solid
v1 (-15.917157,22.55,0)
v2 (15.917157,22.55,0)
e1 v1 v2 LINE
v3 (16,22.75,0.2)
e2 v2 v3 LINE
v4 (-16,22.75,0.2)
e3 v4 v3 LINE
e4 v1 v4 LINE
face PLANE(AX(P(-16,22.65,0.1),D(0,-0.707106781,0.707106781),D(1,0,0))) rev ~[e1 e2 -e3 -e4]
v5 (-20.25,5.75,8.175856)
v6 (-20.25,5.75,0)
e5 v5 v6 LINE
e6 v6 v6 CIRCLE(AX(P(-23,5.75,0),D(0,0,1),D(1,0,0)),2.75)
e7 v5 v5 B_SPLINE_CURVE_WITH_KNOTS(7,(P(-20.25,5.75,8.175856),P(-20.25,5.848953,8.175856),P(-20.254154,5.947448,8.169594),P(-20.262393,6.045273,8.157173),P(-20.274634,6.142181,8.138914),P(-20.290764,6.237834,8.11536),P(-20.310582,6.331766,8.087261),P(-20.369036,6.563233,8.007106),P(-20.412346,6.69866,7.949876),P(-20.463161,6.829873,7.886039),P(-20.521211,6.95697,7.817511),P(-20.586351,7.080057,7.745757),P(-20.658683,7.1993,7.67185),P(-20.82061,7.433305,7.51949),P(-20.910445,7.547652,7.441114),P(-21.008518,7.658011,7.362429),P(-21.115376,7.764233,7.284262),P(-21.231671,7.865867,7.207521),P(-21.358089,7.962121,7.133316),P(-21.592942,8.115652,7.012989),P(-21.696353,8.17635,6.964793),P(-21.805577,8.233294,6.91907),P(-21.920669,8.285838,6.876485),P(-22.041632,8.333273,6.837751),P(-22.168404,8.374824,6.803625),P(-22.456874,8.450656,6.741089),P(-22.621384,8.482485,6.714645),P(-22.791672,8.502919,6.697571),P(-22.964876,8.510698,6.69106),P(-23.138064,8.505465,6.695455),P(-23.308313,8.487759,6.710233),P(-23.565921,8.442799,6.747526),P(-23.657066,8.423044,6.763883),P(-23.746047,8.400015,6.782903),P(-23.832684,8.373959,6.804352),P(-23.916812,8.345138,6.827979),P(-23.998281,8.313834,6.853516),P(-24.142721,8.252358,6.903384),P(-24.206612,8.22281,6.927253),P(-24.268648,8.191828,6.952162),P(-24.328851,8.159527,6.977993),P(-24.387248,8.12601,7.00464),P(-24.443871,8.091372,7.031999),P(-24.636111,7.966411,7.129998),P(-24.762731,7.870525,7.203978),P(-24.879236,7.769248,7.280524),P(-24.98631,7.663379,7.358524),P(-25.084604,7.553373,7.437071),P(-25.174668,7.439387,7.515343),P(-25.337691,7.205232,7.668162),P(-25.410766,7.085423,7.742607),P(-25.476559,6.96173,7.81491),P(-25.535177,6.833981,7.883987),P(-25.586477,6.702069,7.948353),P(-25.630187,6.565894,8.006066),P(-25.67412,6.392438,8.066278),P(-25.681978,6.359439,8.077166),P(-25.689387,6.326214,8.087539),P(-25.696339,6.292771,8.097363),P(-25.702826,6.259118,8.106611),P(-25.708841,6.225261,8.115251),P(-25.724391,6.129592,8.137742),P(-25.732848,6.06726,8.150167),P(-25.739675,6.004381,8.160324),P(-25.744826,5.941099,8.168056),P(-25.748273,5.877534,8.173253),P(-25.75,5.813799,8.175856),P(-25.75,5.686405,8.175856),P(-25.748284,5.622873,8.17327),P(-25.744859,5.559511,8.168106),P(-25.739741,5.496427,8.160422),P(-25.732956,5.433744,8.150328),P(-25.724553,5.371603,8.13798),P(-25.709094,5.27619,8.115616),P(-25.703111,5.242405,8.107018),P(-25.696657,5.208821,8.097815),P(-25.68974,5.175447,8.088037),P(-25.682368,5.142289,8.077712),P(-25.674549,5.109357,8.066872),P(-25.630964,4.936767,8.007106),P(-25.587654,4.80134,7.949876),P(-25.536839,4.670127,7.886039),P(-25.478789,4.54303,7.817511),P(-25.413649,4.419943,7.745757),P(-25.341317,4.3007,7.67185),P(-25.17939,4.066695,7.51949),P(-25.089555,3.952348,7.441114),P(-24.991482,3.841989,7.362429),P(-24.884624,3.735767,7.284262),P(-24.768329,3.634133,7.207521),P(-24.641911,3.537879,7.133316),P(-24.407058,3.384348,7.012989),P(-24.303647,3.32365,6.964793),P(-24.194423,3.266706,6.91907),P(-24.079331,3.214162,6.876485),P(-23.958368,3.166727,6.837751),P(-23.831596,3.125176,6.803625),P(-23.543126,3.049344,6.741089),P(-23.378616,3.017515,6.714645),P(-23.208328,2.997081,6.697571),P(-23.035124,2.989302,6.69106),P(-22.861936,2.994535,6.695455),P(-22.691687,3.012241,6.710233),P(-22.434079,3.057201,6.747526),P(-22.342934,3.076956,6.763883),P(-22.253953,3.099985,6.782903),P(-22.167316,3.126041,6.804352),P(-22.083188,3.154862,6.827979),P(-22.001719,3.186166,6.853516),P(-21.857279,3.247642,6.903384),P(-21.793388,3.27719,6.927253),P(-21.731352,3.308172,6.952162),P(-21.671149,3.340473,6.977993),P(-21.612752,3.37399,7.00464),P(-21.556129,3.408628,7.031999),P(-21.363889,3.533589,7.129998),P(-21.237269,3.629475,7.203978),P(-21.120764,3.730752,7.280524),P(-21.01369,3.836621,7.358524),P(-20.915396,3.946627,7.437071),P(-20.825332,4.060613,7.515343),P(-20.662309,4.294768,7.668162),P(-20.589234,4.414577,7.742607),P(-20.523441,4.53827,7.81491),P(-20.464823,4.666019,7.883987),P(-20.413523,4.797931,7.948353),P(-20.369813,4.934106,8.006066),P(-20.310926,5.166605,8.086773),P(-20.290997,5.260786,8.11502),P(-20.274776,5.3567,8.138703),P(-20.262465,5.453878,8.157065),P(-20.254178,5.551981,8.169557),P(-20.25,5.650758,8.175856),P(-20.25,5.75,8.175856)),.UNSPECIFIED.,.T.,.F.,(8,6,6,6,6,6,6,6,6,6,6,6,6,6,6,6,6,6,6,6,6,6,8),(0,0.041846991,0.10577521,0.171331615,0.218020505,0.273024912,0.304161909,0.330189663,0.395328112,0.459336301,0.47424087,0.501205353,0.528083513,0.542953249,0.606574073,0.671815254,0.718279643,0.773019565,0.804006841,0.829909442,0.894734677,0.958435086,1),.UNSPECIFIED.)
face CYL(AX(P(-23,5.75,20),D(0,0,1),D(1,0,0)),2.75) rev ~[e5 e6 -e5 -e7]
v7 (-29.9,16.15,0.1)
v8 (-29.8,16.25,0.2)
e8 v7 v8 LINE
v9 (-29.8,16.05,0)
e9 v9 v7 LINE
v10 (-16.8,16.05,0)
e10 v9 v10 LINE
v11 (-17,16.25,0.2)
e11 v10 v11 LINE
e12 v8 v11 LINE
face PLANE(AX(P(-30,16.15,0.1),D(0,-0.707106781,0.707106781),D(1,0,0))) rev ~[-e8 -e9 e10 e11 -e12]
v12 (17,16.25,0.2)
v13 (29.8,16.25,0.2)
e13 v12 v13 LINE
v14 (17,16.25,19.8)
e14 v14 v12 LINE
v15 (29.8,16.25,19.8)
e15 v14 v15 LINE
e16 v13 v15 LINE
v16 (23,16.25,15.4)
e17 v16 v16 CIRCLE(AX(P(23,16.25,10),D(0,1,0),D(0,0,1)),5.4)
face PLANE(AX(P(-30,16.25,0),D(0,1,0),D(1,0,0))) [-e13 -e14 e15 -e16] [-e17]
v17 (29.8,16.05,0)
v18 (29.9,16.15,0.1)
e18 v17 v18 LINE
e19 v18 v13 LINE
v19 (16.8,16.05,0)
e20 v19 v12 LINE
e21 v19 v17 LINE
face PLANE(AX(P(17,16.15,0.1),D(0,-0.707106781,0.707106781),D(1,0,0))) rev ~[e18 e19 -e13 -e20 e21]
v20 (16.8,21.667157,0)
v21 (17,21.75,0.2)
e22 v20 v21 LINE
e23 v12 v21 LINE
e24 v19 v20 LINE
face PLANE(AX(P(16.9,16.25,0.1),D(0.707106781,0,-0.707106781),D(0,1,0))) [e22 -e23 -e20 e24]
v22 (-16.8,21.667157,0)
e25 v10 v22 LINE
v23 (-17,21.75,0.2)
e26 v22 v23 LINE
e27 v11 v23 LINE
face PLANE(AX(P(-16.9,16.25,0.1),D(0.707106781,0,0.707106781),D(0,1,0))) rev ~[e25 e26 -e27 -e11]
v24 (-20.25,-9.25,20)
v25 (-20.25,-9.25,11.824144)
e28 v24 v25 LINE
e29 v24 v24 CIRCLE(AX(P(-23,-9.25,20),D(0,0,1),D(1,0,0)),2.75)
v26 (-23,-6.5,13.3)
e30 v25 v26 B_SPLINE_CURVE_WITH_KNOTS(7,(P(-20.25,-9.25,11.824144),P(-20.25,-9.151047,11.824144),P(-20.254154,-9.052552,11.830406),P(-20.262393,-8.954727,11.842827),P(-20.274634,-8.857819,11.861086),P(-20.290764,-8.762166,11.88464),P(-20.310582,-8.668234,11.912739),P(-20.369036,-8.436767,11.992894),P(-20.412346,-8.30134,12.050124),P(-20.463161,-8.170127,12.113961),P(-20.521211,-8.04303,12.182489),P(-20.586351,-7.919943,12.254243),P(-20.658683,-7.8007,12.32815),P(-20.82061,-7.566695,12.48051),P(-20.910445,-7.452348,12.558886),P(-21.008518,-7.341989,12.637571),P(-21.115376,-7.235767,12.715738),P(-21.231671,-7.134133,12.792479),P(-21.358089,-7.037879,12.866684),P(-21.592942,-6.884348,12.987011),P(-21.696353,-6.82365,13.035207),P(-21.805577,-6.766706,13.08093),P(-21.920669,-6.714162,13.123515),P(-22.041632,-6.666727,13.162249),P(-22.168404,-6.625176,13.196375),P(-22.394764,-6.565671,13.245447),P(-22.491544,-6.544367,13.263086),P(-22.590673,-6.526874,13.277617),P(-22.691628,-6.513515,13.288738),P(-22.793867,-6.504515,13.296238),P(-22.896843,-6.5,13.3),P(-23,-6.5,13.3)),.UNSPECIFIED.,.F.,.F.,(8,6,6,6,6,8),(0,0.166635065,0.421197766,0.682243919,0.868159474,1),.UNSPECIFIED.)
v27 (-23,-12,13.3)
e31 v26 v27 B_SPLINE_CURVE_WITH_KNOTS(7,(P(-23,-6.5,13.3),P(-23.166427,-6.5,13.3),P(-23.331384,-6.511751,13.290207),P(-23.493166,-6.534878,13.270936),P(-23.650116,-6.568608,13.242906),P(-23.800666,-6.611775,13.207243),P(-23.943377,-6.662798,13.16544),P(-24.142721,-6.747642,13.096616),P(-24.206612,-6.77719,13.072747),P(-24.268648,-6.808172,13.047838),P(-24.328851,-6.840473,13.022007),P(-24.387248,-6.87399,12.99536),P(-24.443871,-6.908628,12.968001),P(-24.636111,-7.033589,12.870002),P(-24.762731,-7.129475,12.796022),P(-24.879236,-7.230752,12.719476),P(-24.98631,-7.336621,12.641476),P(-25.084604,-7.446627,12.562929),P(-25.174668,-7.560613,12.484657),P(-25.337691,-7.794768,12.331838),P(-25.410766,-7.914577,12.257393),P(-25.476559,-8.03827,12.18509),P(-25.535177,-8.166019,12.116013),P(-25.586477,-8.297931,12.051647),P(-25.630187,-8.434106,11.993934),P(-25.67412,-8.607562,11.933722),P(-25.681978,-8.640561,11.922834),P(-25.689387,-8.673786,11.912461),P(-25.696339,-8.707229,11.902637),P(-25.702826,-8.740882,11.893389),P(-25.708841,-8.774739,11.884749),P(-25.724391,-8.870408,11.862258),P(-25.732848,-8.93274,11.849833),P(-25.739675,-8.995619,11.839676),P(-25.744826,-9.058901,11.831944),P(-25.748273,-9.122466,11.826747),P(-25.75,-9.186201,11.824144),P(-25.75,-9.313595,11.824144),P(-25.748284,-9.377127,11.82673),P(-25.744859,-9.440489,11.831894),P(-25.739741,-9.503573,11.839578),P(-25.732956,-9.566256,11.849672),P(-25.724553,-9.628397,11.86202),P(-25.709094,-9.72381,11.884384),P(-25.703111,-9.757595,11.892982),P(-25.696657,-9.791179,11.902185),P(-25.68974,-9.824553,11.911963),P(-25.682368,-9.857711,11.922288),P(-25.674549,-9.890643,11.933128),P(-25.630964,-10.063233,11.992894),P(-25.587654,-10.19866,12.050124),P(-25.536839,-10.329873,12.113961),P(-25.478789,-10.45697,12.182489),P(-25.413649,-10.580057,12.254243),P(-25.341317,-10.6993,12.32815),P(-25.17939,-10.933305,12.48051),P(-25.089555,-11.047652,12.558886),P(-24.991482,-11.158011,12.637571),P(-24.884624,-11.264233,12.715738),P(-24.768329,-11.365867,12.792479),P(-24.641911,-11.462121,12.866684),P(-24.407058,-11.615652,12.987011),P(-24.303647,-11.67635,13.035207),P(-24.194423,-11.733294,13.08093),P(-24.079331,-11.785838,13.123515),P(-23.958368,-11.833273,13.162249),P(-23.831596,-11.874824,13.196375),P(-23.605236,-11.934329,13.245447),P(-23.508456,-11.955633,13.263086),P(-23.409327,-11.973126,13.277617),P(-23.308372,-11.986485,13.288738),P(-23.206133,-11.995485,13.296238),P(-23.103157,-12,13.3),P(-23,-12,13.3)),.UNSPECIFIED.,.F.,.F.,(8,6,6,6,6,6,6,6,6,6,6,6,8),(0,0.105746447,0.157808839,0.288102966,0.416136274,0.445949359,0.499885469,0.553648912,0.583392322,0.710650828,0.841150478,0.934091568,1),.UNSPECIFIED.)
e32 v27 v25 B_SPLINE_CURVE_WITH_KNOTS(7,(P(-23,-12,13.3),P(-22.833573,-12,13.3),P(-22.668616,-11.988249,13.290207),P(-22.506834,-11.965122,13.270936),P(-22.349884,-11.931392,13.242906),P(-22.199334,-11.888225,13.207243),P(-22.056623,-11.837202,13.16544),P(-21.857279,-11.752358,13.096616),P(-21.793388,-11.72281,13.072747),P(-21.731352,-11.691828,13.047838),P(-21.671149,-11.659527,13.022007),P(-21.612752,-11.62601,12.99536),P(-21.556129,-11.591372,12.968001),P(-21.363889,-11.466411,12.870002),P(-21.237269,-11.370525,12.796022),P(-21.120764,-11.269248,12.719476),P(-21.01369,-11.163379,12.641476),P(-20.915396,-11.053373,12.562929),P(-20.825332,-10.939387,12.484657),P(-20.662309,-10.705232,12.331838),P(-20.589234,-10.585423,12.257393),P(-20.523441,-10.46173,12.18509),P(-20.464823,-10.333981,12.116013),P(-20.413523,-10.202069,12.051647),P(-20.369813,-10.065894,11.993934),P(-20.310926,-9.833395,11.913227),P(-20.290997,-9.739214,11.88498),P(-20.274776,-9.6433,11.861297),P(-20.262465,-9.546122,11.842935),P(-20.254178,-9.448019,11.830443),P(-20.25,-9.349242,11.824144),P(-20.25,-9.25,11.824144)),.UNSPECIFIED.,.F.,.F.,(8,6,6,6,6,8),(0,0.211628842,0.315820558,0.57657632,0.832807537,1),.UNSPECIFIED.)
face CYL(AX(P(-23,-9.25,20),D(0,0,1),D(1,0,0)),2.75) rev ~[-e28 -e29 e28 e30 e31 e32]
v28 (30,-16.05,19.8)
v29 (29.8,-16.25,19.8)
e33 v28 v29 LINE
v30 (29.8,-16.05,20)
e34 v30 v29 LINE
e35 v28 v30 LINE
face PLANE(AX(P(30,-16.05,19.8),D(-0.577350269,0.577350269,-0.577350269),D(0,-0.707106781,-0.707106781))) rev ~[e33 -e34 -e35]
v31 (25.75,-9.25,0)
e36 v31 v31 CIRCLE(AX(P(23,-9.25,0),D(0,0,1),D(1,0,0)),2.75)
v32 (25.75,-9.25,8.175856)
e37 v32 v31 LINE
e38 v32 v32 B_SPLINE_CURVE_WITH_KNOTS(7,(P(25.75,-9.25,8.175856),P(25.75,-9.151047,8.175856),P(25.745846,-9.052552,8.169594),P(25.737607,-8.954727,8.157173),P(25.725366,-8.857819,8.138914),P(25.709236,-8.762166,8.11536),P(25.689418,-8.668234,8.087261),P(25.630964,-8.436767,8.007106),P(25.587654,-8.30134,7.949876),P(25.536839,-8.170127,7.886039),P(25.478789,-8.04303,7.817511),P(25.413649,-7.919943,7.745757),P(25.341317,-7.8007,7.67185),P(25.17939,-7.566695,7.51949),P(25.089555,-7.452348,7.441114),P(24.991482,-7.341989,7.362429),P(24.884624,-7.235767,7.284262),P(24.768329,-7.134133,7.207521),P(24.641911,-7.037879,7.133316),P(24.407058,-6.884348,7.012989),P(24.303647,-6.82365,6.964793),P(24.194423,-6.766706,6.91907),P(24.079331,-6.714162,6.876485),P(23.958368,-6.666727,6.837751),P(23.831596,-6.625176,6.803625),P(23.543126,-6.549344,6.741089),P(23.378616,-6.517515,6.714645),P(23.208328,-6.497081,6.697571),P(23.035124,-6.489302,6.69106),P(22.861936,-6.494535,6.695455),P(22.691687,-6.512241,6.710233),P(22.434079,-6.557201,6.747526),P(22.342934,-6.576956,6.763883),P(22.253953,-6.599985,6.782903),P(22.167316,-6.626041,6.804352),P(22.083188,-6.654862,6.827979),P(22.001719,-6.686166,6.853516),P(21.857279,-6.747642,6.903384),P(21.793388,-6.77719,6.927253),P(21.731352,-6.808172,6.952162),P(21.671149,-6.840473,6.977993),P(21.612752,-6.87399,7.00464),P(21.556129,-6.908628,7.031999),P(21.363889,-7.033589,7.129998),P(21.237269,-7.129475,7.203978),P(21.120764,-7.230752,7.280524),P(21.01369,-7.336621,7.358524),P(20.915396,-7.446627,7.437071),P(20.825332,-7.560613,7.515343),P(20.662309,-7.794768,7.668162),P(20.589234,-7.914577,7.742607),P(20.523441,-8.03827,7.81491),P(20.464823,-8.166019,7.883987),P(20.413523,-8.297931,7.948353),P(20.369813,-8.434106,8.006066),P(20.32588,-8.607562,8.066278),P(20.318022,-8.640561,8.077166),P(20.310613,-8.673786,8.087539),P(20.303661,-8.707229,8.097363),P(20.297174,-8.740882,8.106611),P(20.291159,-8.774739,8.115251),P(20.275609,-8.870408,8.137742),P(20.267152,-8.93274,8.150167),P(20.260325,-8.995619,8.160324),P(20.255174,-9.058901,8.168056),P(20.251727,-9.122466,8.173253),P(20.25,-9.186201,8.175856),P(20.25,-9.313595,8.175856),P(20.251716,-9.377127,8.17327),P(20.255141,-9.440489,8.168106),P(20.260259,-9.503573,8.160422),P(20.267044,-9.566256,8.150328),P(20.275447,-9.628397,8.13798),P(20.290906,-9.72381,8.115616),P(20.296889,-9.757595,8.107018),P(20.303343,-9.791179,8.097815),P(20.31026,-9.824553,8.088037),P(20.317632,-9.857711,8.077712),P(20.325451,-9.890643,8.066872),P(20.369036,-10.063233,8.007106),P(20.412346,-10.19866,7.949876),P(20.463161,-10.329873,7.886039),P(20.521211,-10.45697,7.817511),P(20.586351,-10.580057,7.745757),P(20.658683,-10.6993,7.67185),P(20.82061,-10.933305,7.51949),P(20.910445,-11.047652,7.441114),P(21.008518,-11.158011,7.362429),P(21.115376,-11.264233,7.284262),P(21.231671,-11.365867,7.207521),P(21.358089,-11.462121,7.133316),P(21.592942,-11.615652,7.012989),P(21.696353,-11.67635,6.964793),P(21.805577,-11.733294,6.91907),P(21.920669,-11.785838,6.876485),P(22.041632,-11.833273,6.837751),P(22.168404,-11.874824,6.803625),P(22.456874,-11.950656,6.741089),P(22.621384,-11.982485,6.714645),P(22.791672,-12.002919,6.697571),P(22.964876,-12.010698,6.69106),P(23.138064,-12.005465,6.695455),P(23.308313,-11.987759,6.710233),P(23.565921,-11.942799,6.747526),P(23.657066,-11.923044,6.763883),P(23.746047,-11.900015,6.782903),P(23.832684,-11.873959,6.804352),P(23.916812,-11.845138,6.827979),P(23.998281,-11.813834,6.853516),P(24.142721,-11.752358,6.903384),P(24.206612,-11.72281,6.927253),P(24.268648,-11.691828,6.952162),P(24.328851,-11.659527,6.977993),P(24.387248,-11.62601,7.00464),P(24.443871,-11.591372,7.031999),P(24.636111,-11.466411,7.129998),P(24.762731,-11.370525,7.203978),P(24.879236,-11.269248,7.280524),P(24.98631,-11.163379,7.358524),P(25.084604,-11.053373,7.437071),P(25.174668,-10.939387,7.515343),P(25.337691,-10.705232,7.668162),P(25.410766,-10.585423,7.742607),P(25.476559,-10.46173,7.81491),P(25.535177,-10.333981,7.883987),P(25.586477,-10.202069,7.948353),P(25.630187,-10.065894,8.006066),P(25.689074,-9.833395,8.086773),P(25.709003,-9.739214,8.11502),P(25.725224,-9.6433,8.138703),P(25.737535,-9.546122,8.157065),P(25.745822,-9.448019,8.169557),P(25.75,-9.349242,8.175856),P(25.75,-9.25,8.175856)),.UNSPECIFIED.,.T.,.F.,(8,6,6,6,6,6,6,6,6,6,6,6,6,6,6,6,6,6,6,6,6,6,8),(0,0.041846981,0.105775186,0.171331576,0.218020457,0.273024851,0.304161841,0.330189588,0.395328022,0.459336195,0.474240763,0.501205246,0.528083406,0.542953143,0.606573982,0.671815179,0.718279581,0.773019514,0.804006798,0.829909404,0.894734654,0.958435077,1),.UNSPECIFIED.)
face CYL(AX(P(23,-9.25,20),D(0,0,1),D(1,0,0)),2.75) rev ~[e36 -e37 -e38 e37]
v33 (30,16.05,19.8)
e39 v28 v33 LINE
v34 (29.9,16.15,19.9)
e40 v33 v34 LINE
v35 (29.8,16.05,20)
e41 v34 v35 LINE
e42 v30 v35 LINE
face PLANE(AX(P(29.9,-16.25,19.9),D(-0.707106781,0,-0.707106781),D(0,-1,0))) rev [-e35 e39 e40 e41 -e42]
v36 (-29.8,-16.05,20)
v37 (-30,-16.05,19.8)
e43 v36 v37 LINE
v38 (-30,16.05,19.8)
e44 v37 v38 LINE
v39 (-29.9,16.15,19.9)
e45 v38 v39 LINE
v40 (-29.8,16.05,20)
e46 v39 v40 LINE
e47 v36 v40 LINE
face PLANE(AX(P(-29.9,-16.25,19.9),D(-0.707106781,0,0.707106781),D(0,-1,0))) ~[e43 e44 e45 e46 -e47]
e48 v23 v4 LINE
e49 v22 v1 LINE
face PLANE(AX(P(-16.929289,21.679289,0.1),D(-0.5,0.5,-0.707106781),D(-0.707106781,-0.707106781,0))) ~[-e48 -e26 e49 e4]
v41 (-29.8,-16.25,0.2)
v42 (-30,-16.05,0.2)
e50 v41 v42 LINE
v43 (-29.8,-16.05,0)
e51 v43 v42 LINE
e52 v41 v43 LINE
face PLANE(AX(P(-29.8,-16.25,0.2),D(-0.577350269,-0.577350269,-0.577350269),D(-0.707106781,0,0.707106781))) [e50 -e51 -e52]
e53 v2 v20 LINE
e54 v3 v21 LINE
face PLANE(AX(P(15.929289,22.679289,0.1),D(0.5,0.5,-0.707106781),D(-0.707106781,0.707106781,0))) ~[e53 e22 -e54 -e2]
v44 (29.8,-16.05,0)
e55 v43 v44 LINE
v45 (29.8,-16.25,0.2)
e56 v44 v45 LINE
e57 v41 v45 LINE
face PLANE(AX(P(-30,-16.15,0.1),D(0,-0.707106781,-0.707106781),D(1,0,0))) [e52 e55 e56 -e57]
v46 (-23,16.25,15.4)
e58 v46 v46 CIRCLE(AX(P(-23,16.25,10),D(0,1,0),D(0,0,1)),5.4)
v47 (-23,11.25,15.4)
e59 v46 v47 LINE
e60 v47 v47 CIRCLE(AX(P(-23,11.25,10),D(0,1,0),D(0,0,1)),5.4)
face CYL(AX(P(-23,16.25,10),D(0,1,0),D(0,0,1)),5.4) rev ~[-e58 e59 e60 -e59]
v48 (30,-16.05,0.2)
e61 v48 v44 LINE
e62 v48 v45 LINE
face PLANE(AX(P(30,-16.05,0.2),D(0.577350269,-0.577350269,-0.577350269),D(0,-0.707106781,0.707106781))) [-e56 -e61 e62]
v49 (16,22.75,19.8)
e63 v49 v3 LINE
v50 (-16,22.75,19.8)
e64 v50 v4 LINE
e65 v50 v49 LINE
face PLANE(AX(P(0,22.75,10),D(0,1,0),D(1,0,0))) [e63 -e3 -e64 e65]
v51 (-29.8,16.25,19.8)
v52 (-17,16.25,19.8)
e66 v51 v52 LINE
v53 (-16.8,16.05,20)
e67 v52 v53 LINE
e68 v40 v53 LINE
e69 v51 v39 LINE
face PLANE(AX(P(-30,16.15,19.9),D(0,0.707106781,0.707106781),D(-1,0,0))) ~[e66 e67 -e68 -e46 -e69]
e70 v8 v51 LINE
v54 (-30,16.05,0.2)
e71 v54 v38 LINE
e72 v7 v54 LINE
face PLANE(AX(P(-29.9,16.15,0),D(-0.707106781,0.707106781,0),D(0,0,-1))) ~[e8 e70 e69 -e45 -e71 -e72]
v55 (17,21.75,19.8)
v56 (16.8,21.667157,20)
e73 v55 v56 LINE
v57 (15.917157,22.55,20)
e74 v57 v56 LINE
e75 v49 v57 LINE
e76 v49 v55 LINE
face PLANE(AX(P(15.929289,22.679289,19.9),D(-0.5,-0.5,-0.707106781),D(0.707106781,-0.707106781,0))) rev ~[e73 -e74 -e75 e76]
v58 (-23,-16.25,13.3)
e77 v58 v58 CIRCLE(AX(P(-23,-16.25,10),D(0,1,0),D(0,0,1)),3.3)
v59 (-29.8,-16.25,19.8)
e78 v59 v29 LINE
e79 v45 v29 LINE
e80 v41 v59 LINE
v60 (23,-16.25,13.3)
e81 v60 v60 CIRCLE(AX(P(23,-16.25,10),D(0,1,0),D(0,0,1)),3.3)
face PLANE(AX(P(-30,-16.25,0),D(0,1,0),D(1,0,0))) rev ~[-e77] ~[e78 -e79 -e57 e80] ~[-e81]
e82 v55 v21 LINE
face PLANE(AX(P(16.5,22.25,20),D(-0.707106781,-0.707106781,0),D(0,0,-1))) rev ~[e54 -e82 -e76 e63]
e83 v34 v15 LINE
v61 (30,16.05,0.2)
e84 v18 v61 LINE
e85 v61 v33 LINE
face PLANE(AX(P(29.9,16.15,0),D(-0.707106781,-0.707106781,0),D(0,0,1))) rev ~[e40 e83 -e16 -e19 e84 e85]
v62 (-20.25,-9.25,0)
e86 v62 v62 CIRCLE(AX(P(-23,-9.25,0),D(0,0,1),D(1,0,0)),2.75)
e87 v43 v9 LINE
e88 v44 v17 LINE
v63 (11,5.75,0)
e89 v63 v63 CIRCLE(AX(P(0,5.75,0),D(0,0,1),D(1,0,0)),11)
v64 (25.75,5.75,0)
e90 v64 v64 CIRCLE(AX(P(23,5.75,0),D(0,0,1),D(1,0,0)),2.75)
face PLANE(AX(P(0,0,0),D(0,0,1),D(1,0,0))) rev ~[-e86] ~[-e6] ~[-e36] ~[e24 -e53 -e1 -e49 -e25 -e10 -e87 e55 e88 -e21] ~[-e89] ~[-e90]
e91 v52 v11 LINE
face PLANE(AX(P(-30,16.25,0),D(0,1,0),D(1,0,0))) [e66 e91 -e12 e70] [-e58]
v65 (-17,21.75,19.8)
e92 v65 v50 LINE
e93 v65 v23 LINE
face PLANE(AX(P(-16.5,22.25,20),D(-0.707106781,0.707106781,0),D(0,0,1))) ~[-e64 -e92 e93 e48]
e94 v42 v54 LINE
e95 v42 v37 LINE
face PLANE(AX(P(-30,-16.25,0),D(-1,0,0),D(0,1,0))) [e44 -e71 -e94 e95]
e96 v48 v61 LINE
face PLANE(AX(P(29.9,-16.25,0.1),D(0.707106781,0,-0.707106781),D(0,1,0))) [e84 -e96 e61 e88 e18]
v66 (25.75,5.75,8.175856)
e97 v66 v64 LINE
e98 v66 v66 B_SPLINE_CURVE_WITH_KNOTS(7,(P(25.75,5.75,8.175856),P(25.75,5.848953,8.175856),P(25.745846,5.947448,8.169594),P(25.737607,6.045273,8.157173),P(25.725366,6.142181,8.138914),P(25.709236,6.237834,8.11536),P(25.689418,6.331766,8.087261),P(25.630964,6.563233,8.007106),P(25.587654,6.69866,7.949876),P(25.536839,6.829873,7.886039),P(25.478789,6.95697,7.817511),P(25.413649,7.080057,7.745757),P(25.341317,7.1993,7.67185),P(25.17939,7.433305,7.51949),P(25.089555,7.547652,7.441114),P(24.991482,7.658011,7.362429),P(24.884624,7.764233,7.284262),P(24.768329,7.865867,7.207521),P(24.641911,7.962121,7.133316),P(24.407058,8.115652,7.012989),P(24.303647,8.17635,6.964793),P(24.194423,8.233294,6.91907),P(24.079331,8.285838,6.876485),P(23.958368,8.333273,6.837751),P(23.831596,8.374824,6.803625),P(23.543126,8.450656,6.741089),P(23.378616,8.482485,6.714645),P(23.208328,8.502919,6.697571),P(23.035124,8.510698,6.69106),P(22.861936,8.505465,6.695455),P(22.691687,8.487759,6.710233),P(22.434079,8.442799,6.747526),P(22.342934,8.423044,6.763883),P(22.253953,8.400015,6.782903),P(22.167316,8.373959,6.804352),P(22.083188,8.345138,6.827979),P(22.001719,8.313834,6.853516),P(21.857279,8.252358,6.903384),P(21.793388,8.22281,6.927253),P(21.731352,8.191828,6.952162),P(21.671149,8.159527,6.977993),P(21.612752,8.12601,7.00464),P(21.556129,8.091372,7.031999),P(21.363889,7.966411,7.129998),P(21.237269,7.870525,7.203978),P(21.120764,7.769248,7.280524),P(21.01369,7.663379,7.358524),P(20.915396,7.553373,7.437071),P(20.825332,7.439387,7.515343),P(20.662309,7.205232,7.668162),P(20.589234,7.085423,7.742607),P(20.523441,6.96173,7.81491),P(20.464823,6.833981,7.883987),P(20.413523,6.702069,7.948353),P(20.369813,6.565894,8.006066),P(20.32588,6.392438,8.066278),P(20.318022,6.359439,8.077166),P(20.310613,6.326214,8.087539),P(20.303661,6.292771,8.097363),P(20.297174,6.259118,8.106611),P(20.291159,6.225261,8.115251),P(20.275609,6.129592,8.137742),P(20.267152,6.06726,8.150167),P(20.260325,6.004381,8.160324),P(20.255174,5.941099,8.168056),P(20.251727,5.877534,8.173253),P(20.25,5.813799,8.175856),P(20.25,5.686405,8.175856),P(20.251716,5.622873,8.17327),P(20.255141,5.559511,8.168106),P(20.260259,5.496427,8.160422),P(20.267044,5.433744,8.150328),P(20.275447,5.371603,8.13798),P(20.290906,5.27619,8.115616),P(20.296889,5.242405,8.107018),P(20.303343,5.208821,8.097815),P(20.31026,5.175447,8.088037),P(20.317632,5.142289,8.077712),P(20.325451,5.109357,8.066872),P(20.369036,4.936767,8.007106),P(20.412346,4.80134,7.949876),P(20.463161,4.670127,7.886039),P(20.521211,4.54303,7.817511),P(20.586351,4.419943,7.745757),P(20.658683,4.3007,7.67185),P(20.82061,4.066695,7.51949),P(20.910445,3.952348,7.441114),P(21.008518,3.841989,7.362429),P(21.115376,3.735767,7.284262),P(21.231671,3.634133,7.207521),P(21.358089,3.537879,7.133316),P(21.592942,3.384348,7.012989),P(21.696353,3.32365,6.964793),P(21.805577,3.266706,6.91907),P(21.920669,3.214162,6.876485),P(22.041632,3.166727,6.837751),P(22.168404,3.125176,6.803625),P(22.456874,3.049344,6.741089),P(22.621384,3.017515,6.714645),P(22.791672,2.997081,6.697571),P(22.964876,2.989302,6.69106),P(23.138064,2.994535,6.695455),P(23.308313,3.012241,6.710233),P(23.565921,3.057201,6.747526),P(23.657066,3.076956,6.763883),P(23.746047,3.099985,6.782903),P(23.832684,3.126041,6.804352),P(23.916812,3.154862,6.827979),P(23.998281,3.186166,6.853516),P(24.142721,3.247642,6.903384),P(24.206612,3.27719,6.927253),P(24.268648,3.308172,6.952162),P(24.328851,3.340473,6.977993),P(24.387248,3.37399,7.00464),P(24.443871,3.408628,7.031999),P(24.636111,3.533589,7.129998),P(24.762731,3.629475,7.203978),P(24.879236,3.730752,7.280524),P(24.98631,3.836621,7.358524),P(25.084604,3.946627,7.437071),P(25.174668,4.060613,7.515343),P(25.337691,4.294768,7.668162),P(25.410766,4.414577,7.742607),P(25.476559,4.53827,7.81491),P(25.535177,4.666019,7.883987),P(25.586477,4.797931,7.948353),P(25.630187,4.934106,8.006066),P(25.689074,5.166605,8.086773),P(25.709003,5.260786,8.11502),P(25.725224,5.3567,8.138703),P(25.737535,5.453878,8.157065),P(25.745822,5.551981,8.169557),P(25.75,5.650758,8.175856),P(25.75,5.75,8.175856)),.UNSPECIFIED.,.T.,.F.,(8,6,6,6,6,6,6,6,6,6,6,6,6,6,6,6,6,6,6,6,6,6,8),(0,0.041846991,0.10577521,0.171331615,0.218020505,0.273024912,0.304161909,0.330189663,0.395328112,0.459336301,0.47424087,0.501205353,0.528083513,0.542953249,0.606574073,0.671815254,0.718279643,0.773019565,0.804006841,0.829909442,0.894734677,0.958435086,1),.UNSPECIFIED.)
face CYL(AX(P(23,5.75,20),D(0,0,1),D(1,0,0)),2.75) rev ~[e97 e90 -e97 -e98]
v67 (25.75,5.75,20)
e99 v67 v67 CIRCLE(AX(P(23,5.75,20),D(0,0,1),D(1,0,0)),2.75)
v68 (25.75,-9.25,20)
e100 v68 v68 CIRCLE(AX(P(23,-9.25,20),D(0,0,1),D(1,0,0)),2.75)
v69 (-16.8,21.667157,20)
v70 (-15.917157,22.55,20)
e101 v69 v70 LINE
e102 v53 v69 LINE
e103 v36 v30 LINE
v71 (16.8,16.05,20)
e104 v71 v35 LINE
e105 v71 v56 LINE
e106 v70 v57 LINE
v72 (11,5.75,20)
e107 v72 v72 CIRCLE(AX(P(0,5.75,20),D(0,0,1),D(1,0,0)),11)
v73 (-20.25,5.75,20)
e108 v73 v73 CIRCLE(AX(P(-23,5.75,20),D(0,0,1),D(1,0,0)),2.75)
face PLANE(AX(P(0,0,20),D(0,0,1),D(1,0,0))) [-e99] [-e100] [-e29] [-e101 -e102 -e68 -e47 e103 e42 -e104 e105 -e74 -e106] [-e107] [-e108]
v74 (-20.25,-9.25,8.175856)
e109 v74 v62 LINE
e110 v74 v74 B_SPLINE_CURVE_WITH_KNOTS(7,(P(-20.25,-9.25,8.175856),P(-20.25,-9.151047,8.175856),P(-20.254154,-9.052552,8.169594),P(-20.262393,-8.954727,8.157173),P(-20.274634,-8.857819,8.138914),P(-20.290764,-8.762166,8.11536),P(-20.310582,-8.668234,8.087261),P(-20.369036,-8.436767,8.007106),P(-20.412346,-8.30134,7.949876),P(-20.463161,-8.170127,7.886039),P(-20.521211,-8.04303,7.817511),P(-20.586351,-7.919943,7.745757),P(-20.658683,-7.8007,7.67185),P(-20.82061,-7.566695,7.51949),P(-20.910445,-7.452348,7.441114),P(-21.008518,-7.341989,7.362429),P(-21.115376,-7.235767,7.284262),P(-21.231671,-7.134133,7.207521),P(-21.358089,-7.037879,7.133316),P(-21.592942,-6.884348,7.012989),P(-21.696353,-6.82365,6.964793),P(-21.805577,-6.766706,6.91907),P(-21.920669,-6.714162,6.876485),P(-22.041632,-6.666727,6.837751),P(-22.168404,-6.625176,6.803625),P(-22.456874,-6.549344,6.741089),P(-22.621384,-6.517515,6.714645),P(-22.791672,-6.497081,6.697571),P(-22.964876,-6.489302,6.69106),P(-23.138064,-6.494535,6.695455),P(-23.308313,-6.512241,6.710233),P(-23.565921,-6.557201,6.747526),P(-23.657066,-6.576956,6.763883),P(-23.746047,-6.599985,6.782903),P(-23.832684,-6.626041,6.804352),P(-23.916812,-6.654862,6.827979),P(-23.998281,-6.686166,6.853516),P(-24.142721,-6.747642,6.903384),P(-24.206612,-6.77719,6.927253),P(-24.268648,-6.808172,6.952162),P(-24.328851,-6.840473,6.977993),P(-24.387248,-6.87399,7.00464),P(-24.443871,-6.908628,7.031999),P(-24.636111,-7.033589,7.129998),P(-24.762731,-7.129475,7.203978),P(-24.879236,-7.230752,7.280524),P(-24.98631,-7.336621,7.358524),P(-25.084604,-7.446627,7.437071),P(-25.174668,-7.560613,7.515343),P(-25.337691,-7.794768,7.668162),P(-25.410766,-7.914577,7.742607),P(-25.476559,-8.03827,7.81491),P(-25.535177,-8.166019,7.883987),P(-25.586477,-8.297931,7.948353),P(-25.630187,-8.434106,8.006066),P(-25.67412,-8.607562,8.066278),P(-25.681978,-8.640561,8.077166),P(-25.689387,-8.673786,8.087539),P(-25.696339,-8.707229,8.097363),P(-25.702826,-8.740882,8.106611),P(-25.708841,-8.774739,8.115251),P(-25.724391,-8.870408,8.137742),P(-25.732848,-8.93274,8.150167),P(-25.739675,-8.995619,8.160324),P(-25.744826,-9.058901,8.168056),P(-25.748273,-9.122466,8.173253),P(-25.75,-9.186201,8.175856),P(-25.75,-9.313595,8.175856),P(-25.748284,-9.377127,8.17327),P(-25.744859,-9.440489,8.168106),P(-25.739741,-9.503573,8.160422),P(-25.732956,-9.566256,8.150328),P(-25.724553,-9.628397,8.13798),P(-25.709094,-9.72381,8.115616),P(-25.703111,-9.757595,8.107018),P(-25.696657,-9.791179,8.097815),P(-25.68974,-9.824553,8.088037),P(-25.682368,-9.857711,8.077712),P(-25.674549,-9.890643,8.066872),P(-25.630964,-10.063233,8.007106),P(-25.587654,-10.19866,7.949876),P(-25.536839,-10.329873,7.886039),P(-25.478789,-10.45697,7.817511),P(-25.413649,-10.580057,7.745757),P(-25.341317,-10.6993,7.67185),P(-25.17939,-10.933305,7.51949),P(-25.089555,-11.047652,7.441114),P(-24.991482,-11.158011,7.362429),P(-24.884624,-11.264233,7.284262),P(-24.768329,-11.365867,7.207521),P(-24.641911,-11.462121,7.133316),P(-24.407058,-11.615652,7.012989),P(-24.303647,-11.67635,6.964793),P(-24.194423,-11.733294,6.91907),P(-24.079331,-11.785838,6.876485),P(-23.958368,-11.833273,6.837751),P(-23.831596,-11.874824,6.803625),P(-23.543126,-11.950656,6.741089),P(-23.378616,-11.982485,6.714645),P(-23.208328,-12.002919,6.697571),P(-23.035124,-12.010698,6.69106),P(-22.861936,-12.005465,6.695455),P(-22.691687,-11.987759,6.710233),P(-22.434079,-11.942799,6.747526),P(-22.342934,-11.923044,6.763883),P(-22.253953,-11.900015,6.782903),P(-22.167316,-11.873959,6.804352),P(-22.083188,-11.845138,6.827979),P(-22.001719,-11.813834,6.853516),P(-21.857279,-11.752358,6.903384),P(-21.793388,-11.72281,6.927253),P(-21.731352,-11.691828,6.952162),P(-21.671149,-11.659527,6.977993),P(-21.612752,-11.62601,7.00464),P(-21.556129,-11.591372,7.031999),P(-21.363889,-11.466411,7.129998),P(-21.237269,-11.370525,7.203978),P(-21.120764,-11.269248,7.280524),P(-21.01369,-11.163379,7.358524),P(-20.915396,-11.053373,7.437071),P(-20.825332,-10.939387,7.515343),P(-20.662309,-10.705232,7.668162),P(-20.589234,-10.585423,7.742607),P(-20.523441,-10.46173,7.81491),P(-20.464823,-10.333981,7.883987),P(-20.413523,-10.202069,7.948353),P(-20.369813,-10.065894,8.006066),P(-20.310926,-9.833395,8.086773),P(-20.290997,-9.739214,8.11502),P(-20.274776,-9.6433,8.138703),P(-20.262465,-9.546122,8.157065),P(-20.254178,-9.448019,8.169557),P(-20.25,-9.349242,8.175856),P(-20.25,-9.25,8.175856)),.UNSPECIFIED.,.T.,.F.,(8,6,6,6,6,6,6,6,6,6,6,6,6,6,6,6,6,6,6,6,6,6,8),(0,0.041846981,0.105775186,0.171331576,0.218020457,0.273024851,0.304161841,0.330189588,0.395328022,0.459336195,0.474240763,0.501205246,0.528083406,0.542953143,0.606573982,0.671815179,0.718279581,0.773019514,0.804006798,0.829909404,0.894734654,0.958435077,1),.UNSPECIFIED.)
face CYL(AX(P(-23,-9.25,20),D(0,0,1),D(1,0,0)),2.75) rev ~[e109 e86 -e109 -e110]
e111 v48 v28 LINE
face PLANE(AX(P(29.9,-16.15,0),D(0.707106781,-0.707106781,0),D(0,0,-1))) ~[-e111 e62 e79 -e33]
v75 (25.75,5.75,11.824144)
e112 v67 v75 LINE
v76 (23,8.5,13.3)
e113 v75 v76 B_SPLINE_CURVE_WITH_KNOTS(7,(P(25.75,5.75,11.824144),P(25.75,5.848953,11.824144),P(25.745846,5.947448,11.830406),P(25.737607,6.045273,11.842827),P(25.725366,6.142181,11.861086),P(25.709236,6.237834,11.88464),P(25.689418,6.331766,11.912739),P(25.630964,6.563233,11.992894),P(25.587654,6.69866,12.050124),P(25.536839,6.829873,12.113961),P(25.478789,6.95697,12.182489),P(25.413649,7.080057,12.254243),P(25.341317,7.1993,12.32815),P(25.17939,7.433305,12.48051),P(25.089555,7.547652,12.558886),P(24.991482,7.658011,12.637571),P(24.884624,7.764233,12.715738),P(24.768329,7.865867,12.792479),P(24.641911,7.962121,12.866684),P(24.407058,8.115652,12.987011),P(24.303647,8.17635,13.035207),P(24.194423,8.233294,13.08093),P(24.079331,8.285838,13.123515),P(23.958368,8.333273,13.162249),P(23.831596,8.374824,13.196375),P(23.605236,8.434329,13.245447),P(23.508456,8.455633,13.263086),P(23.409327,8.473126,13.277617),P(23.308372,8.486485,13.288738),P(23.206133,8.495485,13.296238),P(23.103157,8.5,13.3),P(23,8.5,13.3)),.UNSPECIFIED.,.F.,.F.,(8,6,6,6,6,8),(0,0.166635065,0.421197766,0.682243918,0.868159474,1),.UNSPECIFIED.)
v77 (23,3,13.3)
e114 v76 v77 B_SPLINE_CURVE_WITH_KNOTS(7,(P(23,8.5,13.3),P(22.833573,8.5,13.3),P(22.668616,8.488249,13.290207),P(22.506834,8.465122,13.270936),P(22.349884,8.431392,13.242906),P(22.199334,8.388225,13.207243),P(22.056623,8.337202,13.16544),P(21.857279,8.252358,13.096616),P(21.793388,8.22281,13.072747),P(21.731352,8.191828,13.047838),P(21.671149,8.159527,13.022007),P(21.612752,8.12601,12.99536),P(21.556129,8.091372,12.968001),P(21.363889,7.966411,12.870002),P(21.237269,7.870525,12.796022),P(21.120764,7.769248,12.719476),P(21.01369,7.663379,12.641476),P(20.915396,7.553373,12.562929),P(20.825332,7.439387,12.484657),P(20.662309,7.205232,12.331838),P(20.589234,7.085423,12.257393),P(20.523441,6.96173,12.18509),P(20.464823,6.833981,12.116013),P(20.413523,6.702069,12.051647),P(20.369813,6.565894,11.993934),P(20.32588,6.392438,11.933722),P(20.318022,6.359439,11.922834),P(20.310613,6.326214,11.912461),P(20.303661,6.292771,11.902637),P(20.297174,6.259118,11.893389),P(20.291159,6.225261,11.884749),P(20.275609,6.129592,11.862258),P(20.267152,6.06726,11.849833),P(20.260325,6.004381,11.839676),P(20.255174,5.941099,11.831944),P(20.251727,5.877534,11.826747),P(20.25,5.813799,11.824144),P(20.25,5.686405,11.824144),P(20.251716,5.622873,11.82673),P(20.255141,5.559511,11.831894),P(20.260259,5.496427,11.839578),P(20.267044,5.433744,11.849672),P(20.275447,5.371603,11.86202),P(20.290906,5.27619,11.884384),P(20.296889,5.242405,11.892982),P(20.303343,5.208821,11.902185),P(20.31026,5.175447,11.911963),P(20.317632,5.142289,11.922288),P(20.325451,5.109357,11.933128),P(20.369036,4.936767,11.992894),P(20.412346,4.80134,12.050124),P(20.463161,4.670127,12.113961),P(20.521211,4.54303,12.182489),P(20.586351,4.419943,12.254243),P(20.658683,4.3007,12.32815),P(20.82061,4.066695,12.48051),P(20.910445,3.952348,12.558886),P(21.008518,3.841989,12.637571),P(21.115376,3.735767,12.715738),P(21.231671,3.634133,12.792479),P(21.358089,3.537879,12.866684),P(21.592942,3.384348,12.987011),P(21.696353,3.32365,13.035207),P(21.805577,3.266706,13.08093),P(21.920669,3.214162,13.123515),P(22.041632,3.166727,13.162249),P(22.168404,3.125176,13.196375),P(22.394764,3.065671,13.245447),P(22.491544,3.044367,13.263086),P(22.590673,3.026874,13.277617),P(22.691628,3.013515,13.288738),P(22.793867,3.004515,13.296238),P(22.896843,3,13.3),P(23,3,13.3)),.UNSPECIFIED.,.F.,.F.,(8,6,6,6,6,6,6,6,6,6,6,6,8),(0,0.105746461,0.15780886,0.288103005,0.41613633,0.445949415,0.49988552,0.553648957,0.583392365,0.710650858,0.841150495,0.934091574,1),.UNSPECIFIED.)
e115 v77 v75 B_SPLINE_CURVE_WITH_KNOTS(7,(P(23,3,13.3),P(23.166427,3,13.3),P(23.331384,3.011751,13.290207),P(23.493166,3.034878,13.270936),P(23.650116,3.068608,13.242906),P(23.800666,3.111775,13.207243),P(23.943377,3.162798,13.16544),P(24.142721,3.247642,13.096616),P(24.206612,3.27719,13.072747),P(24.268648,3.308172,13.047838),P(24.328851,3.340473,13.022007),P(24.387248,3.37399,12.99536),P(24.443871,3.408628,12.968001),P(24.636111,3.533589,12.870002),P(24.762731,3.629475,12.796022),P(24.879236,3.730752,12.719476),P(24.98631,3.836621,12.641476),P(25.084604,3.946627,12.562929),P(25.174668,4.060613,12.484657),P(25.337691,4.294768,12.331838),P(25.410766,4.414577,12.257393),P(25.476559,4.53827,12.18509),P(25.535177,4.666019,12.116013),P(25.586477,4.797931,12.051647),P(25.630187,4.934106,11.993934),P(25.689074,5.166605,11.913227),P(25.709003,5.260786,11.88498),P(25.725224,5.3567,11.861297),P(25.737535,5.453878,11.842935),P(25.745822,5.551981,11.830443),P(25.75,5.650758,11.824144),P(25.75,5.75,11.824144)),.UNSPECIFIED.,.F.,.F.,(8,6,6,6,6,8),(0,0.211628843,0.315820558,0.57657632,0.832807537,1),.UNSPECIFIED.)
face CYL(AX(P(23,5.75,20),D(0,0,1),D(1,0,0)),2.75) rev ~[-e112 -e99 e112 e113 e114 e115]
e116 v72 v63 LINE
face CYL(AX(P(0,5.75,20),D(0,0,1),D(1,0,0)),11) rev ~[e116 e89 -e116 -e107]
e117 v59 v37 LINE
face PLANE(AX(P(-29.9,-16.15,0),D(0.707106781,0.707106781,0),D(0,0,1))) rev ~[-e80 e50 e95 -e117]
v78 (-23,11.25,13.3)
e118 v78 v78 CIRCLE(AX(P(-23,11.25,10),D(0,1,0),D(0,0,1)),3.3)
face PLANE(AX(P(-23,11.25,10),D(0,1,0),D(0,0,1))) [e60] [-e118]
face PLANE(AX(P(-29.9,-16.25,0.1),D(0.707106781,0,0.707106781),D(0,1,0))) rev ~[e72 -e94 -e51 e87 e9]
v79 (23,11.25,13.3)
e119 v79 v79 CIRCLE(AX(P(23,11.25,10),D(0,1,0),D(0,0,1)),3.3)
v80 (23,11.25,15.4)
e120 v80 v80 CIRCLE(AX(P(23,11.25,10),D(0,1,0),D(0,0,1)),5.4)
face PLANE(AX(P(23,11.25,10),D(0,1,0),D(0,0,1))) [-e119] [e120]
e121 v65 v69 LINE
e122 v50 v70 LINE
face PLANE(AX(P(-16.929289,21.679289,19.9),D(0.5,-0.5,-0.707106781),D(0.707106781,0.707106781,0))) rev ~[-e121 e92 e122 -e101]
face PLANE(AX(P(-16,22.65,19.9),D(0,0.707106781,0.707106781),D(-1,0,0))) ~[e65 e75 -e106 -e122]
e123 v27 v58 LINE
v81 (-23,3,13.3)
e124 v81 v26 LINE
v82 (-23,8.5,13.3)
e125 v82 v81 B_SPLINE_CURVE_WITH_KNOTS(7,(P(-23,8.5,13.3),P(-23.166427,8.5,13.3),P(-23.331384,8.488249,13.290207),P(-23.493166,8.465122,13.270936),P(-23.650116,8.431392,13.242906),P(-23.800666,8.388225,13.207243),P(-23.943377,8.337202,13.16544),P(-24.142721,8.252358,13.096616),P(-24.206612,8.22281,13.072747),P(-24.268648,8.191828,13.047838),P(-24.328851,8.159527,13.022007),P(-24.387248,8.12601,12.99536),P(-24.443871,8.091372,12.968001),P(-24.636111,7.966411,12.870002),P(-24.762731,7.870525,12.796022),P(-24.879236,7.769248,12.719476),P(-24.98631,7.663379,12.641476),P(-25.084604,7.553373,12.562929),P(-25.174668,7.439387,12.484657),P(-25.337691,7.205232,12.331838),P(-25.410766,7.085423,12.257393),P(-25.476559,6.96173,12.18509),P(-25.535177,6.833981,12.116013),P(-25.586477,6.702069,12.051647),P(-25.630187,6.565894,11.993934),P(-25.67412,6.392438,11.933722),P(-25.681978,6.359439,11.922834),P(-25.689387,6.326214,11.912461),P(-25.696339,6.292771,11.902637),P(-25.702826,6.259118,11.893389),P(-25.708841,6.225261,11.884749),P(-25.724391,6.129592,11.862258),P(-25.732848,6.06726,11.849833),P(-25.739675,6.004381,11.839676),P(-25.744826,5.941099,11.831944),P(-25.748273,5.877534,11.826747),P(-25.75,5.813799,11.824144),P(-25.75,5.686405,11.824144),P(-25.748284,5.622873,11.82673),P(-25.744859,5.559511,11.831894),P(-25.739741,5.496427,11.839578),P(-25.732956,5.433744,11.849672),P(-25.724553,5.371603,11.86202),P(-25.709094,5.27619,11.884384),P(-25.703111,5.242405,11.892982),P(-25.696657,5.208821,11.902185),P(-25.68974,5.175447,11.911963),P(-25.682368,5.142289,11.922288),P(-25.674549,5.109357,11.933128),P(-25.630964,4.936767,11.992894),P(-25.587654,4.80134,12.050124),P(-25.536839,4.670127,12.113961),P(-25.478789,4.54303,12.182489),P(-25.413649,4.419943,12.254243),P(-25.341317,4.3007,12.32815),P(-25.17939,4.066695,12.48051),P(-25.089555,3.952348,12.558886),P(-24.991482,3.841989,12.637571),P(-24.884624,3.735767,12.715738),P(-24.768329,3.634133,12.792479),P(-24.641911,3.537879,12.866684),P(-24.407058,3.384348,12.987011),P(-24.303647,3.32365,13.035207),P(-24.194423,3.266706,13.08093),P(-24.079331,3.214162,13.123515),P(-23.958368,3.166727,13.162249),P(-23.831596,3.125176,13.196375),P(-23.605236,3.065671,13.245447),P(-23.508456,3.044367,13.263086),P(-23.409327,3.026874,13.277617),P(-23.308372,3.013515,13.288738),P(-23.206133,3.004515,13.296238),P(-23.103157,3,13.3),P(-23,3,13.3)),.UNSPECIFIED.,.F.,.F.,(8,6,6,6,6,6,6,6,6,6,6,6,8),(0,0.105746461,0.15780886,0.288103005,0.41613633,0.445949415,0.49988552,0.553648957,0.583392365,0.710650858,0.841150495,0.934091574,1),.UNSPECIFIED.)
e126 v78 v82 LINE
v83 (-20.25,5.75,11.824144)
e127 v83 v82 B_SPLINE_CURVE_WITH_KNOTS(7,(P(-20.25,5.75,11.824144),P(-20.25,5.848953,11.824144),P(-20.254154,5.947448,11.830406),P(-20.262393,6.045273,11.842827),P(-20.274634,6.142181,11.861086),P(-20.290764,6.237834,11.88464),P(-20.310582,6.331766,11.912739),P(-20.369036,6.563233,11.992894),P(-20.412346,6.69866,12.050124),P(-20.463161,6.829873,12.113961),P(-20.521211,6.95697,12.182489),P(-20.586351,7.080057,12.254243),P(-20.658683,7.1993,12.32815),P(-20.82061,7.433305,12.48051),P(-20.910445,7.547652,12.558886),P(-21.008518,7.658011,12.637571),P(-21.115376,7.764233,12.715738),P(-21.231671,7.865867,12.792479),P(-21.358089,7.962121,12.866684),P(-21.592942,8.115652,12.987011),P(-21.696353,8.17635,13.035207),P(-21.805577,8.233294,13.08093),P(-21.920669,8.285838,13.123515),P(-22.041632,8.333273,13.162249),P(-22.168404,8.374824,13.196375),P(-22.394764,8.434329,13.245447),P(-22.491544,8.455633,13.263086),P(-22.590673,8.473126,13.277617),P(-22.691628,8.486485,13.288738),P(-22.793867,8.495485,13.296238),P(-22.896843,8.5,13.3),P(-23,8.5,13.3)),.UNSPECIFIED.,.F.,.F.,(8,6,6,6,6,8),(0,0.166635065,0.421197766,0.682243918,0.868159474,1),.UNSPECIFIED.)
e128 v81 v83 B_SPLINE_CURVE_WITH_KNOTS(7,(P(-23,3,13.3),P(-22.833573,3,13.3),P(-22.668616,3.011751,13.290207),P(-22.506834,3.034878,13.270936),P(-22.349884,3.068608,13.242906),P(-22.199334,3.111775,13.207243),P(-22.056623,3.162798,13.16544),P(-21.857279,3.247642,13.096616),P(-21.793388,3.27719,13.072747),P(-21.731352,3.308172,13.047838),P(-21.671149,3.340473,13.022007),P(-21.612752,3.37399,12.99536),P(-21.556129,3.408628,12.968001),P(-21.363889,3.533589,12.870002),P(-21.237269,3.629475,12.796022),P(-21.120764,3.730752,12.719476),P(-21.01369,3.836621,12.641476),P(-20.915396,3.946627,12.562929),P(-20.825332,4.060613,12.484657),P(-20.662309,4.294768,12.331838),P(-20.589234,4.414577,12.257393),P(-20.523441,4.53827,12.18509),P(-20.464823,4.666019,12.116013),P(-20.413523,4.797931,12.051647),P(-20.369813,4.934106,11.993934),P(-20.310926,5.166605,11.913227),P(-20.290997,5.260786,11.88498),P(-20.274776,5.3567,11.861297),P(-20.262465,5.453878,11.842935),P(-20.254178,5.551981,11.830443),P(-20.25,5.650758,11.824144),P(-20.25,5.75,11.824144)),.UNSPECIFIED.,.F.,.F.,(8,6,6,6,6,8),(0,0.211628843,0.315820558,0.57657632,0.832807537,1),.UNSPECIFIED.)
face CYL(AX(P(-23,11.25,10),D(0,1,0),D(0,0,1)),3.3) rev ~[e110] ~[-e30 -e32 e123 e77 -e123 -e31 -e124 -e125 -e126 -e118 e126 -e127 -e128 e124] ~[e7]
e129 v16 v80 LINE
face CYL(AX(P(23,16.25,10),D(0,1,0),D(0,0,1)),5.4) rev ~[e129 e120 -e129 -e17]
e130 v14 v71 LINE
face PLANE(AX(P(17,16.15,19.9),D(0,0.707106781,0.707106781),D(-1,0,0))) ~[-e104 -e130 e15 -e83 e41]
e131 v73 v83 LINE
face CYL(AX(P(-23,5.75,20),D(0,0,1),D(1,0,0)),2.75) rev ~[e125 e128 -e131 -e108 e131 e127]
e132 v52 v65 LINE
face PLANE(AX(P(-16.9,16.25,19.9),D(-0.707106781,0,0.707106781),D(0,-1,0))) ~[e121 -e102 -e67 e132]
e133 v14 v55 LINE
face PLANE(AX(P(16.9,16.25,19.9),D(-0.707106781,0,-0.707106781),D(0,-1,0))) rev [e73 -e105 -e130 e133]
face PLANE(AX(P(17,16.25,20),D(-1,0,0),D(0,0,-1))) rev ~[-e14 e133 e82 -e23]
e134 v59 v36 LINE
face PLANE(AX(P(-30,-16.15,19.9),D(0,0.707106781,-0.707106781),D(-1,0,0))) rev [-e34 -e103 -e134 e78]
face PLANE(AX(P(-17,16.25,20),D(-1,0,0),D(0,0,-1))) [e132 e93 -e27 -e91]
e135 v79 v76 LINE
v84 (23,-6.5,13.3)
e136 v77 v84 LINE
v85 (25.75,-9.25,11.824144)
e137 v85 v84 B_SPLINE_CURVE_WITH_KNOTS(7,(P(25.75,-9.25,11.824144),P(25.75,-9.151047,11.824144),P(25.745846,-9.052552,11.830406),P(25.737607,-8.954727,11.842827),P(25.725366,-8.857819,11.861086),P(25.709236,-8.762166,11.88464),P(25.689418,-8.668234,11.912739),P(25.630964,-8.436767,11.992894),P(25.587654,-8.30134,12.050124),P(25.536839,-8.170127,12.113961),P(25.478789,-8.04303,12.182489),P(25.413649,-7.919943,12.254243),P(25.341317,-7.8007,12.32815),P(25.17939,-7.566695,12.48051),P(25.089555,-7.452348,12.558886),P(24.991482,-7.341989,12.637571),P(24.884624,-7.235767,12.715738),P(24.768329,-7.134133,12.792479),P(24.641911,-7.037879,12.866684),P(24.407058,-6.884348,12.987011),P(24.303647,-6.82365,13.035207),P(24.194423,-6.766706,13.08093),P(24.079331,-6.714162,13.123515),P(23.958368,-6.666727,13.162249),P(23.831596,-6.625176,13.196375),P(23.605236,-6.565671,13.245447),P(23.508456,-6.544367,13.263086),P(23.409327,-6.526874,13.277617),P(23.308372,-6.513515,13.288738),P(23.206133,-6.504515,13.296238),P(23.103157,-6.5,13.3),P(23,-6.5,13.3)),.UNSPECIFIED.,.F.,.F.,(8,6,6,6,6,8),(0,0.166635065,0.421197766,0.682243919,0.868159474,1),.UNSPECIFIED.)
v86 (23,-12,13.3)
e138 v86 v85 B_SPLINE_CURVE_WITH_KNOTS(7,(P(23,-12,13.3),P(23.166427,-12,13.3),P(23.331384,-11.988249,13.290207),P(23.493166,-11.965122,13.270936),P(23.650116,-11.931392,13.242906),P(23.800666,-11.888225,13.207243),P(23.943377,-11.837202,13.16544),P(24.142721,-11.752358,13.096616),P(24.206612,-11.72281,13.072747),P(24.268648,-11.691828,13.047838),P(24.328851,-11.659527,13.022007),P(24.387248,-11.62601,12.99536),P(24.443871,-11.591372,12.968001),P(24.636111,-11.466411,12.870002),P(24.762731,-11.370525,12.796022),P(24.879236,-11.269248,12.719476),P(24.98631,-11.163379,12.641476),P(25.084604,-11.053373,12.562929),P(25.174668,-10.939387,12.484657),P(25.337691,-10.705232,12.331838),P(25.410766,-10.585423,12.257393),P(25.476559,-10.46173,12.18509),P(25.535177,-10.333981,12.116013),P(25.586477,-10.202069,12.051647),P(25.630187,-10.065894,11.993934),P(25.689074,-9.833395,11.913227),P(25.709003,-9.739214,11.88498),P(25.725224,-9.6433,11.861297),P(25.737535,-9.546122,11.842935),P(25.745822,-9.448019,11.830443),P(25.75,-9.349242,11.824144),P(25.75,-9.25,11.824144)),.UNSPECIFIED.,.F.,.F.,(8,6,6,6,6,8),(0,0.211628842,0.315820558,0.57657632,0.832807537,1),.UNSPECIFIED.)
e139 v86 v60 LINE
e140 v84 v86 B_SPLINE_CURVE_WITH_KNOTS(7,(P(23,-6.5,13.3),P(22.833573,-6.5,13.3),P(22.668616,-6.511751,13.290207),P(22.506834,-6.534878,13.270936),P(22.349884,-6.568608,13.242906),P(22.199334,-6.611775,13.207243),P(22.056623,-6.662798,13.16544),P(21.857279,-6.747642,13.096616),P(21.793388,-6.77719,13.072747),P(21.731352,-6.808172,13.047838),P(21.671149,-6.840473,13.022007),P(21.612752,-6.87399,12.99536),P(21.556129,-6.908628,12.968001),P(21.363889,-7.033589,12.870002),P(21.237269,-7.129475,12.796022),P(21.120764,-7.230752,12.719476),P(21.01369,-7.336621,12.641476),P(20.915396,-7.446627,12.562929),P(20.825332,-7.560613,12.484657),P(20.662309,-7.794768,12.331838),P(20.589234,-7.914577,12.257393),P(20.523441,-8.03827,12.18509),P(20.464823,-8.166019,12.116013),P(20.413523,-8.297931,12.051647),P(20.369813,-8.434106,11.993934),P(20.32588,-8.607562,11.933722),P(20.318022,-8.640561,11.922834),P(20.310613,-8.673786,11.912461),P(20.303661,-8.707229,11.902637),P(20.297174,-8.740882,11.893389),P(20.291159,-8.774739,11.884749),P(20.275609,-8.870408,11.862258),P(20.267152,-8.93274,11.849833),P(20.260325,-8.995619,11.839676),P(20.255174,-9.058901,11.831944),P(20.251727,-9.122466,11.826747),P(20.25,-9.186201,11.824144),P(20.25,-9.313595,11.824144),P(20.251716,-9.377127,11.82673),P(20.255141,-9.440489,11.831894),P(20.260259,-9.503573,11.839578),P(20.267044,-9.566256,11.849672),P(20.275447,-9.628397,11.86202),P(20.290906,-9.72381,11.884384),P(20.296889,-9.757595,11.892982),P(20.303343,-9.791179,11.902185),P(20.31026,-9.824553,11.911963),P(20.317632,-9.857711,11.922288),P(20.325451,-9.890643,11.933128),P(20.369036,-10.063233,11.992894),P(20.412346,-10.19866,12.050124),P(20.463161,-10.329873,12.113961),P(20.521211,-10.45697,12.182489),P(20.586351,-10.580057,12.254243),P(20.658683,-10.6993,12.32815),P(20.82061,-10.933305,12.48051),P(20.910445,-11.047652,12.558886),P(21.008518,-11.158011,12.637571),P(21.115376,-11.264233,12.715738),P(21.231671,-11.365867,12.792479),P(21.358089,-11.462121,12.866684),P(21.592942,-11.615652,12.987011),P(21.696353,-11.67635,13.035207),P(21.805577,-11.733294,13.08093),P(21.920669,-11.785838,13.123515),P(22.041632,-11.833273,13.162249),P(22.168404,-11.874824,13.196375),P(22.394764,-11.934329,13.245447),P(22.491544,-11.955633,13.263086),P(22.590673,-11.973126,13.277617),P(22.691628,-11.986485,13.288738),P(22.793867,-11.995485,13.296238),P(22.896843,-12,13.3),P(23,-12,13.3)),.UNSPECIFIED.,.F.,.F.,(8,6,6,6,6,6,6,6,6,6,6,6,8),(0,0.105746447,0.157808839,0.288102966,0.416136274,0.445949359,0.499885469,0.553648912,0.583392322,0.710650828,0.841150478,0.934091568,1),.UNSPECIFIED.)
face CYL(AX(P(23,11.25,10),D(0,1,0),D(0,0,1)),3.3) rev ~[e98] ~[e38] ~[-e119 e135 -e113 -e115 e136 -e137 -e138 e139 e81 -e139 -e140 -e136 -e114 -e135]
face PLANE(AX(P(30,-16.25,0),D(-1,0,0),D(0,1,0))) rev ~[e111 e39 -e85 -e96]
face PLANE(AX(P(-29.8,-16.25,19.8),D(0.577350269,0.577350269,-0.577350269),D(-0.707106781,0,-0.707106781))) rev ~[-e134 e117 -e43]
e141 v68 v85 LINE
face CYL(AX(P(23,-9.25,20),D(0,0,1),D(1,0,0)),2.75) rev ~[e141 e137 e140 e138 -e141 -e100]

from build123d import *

# Parameters (mm, degrees)
SKETCH_1_W          = 60
SKETCH_1_H          = 32.5
EXTRUDE_1_DEPTH     = 20
SKETCH_2_W          = 34
SKETCH_2_H          = 20
EXTRUDE_2_DEPTH     = 6.5
SKETCH_3_R          = 5.4
CUT_EXTRUDE_1_DEPTH = 5
SKETCH_4_R          = 3.3
CUT_EXTRUDE_2_DEPTH = 46.345892868
SKETCH_7_R          = 2.75
CUT_EXTRUDE_3_DEPTH = 43.632880503
SKETCH_8_R          = 11
CUT_EXTRUDE_4_DEPTH = 35
CHAMFER_1_SIZE      = 1
CHAMFER_2_SIZE      = 0.2
CHAMFER_3_SIZE      = 0.2


with BuildPart() as part:
    # 草图1 → 凸台-拉伸1 (new body)
    with BuildSketch(Plane.XY):
        Rectangle(SKETCH_1_W, SKETCH_1_H)
    extrude(amount=EXTRUDE_1_DEPTH)

    # 草图2 → 凸台-拉伸2 (add)
    with BuildSketch(Plane(origin=(0, 16.25, 0), x_dir=(1, 0, 0), z_dir=(0, 1, 0))):
        with Locations((0, -10)):
            Rectangle(SKETCH_2_W, SKETCH_2_H)
    extrude(amount=EXTRUDE_2_DEPTH)

    # 草图3 → 切除-拉伸1 (cut)
    with BuildSketch(Plane(origin=(0, 16.25, 0), x_dir=(1, 0, 0), z_dir=(0, 1, 0))):
        with Locations(Location((-23, -10, 0), (0, 0, 270))):
            Circle(SKETCH_3_R)
        with Locations(Location((23, -10, 0), (0, 0, 270))):
            Circle(SKETCH_3_R)
    extrude(amount=-CUT_EXTRUDE_1_DEPTH, mode=Mode.SUBTRACT)

    # 草图4 → 切除-拉伸2 (cut, through all)
    with BuildSketch(Plane(origin=(0, 11.25, 0), x_dir=(1, 0, 0), z_dir=(0, 1, 0))):
        with Locations(Location((-23, -10, 0), (0, 0, 270))):
            Circle(SKETCH_4_R)
        with Locations(Location((23, -10, 0), (0, 0, 270))):
            Circle(SKETCH_4_R)
    extrude(amount=-CUT_EXTRUDE_2_DEPTH, mode=Mode.SUBTRACT)

    # 草图7 → 切除-拉伸3 (cut, through all)
    with BuildSketch(Plane.XY.offset(20)):
        with Locations((-23, 5.75)):
            Circle(SKETCH_7_R)
        with Locations((23, 5.75)):
            Circle(SKETCH_7_R)
        with Locations((-23, -9.25)):
            Circle(SKETCH_7_R)
        with Locations((23, -9.25)):
            Circle(SKETCH_7_R)
    extrude(amount=-CUT_EXTRUDE_3_DEPTH, mode=Mode.SUBTRACT)

    # 草图8 → 切除-拉伸4 (cut)
    with BuildSketch(Plane.XY.offset(20)):
        with Locations((0, 5.75)):
            Circle(SKETCH_8_R)
    extrude(amount=-CUT_EXTRUDE_4_DEPTH, mode=Mode.SUBTRACT)

    # 倒角1
    chamfer_1_edges = [part.edges().sort_by_distance(p)[0] for p in [
        (17, 22.75, 10),
        (-17, 22.75, 10),
    ]]
    chamfer(chamfer_1_edges, length=CHAMFER_1_SIZE)

    # 倒角2
    chamfer_2_edges = [part.edges().sort_by_distance(p)[0] for p in [
        (-16.5, 22.25, 0),
        (-17, 19, 0),
        (-23.5, 16.25, 0),
        (0, 22.75, 0),
        (16.5, 22.25, 0),
        (17, 19, 0),
        (23.5, 16.25, 0),
        (30, 16.25, 10),
        (23.5, 16.25, 20),
        (17, 19, 20),
        (16.5, 22.25, 20),
        (0, 22.75, 20),
        (-16.5, 22.25, 20),
        (-17, 19, 20),
        (-23.5, 16.25, 20),
        (-30, 16.25, 10),
    ]]
    chamfer(chamfer_2_edges, length=CHAMFER_2_SIZE)

    # 倒角3
    chamfer_3_edges = [part.edges().sort_by_distance(p)[0] for p in [
        (-30, -0.1, 0),
        (-30, -0.1, 20),
        (0, -16.25, 20),
        (30, -0.1, 20),
        (0, -16.25, 0),
        (30, -0.1, 0),
        (30, -16.25, 10),
        (-30, -16.25, 10),
    ]]
    chamfer(chamfer_3_edges, length=CHAMFER_3_SIZE)


solid = part.part
